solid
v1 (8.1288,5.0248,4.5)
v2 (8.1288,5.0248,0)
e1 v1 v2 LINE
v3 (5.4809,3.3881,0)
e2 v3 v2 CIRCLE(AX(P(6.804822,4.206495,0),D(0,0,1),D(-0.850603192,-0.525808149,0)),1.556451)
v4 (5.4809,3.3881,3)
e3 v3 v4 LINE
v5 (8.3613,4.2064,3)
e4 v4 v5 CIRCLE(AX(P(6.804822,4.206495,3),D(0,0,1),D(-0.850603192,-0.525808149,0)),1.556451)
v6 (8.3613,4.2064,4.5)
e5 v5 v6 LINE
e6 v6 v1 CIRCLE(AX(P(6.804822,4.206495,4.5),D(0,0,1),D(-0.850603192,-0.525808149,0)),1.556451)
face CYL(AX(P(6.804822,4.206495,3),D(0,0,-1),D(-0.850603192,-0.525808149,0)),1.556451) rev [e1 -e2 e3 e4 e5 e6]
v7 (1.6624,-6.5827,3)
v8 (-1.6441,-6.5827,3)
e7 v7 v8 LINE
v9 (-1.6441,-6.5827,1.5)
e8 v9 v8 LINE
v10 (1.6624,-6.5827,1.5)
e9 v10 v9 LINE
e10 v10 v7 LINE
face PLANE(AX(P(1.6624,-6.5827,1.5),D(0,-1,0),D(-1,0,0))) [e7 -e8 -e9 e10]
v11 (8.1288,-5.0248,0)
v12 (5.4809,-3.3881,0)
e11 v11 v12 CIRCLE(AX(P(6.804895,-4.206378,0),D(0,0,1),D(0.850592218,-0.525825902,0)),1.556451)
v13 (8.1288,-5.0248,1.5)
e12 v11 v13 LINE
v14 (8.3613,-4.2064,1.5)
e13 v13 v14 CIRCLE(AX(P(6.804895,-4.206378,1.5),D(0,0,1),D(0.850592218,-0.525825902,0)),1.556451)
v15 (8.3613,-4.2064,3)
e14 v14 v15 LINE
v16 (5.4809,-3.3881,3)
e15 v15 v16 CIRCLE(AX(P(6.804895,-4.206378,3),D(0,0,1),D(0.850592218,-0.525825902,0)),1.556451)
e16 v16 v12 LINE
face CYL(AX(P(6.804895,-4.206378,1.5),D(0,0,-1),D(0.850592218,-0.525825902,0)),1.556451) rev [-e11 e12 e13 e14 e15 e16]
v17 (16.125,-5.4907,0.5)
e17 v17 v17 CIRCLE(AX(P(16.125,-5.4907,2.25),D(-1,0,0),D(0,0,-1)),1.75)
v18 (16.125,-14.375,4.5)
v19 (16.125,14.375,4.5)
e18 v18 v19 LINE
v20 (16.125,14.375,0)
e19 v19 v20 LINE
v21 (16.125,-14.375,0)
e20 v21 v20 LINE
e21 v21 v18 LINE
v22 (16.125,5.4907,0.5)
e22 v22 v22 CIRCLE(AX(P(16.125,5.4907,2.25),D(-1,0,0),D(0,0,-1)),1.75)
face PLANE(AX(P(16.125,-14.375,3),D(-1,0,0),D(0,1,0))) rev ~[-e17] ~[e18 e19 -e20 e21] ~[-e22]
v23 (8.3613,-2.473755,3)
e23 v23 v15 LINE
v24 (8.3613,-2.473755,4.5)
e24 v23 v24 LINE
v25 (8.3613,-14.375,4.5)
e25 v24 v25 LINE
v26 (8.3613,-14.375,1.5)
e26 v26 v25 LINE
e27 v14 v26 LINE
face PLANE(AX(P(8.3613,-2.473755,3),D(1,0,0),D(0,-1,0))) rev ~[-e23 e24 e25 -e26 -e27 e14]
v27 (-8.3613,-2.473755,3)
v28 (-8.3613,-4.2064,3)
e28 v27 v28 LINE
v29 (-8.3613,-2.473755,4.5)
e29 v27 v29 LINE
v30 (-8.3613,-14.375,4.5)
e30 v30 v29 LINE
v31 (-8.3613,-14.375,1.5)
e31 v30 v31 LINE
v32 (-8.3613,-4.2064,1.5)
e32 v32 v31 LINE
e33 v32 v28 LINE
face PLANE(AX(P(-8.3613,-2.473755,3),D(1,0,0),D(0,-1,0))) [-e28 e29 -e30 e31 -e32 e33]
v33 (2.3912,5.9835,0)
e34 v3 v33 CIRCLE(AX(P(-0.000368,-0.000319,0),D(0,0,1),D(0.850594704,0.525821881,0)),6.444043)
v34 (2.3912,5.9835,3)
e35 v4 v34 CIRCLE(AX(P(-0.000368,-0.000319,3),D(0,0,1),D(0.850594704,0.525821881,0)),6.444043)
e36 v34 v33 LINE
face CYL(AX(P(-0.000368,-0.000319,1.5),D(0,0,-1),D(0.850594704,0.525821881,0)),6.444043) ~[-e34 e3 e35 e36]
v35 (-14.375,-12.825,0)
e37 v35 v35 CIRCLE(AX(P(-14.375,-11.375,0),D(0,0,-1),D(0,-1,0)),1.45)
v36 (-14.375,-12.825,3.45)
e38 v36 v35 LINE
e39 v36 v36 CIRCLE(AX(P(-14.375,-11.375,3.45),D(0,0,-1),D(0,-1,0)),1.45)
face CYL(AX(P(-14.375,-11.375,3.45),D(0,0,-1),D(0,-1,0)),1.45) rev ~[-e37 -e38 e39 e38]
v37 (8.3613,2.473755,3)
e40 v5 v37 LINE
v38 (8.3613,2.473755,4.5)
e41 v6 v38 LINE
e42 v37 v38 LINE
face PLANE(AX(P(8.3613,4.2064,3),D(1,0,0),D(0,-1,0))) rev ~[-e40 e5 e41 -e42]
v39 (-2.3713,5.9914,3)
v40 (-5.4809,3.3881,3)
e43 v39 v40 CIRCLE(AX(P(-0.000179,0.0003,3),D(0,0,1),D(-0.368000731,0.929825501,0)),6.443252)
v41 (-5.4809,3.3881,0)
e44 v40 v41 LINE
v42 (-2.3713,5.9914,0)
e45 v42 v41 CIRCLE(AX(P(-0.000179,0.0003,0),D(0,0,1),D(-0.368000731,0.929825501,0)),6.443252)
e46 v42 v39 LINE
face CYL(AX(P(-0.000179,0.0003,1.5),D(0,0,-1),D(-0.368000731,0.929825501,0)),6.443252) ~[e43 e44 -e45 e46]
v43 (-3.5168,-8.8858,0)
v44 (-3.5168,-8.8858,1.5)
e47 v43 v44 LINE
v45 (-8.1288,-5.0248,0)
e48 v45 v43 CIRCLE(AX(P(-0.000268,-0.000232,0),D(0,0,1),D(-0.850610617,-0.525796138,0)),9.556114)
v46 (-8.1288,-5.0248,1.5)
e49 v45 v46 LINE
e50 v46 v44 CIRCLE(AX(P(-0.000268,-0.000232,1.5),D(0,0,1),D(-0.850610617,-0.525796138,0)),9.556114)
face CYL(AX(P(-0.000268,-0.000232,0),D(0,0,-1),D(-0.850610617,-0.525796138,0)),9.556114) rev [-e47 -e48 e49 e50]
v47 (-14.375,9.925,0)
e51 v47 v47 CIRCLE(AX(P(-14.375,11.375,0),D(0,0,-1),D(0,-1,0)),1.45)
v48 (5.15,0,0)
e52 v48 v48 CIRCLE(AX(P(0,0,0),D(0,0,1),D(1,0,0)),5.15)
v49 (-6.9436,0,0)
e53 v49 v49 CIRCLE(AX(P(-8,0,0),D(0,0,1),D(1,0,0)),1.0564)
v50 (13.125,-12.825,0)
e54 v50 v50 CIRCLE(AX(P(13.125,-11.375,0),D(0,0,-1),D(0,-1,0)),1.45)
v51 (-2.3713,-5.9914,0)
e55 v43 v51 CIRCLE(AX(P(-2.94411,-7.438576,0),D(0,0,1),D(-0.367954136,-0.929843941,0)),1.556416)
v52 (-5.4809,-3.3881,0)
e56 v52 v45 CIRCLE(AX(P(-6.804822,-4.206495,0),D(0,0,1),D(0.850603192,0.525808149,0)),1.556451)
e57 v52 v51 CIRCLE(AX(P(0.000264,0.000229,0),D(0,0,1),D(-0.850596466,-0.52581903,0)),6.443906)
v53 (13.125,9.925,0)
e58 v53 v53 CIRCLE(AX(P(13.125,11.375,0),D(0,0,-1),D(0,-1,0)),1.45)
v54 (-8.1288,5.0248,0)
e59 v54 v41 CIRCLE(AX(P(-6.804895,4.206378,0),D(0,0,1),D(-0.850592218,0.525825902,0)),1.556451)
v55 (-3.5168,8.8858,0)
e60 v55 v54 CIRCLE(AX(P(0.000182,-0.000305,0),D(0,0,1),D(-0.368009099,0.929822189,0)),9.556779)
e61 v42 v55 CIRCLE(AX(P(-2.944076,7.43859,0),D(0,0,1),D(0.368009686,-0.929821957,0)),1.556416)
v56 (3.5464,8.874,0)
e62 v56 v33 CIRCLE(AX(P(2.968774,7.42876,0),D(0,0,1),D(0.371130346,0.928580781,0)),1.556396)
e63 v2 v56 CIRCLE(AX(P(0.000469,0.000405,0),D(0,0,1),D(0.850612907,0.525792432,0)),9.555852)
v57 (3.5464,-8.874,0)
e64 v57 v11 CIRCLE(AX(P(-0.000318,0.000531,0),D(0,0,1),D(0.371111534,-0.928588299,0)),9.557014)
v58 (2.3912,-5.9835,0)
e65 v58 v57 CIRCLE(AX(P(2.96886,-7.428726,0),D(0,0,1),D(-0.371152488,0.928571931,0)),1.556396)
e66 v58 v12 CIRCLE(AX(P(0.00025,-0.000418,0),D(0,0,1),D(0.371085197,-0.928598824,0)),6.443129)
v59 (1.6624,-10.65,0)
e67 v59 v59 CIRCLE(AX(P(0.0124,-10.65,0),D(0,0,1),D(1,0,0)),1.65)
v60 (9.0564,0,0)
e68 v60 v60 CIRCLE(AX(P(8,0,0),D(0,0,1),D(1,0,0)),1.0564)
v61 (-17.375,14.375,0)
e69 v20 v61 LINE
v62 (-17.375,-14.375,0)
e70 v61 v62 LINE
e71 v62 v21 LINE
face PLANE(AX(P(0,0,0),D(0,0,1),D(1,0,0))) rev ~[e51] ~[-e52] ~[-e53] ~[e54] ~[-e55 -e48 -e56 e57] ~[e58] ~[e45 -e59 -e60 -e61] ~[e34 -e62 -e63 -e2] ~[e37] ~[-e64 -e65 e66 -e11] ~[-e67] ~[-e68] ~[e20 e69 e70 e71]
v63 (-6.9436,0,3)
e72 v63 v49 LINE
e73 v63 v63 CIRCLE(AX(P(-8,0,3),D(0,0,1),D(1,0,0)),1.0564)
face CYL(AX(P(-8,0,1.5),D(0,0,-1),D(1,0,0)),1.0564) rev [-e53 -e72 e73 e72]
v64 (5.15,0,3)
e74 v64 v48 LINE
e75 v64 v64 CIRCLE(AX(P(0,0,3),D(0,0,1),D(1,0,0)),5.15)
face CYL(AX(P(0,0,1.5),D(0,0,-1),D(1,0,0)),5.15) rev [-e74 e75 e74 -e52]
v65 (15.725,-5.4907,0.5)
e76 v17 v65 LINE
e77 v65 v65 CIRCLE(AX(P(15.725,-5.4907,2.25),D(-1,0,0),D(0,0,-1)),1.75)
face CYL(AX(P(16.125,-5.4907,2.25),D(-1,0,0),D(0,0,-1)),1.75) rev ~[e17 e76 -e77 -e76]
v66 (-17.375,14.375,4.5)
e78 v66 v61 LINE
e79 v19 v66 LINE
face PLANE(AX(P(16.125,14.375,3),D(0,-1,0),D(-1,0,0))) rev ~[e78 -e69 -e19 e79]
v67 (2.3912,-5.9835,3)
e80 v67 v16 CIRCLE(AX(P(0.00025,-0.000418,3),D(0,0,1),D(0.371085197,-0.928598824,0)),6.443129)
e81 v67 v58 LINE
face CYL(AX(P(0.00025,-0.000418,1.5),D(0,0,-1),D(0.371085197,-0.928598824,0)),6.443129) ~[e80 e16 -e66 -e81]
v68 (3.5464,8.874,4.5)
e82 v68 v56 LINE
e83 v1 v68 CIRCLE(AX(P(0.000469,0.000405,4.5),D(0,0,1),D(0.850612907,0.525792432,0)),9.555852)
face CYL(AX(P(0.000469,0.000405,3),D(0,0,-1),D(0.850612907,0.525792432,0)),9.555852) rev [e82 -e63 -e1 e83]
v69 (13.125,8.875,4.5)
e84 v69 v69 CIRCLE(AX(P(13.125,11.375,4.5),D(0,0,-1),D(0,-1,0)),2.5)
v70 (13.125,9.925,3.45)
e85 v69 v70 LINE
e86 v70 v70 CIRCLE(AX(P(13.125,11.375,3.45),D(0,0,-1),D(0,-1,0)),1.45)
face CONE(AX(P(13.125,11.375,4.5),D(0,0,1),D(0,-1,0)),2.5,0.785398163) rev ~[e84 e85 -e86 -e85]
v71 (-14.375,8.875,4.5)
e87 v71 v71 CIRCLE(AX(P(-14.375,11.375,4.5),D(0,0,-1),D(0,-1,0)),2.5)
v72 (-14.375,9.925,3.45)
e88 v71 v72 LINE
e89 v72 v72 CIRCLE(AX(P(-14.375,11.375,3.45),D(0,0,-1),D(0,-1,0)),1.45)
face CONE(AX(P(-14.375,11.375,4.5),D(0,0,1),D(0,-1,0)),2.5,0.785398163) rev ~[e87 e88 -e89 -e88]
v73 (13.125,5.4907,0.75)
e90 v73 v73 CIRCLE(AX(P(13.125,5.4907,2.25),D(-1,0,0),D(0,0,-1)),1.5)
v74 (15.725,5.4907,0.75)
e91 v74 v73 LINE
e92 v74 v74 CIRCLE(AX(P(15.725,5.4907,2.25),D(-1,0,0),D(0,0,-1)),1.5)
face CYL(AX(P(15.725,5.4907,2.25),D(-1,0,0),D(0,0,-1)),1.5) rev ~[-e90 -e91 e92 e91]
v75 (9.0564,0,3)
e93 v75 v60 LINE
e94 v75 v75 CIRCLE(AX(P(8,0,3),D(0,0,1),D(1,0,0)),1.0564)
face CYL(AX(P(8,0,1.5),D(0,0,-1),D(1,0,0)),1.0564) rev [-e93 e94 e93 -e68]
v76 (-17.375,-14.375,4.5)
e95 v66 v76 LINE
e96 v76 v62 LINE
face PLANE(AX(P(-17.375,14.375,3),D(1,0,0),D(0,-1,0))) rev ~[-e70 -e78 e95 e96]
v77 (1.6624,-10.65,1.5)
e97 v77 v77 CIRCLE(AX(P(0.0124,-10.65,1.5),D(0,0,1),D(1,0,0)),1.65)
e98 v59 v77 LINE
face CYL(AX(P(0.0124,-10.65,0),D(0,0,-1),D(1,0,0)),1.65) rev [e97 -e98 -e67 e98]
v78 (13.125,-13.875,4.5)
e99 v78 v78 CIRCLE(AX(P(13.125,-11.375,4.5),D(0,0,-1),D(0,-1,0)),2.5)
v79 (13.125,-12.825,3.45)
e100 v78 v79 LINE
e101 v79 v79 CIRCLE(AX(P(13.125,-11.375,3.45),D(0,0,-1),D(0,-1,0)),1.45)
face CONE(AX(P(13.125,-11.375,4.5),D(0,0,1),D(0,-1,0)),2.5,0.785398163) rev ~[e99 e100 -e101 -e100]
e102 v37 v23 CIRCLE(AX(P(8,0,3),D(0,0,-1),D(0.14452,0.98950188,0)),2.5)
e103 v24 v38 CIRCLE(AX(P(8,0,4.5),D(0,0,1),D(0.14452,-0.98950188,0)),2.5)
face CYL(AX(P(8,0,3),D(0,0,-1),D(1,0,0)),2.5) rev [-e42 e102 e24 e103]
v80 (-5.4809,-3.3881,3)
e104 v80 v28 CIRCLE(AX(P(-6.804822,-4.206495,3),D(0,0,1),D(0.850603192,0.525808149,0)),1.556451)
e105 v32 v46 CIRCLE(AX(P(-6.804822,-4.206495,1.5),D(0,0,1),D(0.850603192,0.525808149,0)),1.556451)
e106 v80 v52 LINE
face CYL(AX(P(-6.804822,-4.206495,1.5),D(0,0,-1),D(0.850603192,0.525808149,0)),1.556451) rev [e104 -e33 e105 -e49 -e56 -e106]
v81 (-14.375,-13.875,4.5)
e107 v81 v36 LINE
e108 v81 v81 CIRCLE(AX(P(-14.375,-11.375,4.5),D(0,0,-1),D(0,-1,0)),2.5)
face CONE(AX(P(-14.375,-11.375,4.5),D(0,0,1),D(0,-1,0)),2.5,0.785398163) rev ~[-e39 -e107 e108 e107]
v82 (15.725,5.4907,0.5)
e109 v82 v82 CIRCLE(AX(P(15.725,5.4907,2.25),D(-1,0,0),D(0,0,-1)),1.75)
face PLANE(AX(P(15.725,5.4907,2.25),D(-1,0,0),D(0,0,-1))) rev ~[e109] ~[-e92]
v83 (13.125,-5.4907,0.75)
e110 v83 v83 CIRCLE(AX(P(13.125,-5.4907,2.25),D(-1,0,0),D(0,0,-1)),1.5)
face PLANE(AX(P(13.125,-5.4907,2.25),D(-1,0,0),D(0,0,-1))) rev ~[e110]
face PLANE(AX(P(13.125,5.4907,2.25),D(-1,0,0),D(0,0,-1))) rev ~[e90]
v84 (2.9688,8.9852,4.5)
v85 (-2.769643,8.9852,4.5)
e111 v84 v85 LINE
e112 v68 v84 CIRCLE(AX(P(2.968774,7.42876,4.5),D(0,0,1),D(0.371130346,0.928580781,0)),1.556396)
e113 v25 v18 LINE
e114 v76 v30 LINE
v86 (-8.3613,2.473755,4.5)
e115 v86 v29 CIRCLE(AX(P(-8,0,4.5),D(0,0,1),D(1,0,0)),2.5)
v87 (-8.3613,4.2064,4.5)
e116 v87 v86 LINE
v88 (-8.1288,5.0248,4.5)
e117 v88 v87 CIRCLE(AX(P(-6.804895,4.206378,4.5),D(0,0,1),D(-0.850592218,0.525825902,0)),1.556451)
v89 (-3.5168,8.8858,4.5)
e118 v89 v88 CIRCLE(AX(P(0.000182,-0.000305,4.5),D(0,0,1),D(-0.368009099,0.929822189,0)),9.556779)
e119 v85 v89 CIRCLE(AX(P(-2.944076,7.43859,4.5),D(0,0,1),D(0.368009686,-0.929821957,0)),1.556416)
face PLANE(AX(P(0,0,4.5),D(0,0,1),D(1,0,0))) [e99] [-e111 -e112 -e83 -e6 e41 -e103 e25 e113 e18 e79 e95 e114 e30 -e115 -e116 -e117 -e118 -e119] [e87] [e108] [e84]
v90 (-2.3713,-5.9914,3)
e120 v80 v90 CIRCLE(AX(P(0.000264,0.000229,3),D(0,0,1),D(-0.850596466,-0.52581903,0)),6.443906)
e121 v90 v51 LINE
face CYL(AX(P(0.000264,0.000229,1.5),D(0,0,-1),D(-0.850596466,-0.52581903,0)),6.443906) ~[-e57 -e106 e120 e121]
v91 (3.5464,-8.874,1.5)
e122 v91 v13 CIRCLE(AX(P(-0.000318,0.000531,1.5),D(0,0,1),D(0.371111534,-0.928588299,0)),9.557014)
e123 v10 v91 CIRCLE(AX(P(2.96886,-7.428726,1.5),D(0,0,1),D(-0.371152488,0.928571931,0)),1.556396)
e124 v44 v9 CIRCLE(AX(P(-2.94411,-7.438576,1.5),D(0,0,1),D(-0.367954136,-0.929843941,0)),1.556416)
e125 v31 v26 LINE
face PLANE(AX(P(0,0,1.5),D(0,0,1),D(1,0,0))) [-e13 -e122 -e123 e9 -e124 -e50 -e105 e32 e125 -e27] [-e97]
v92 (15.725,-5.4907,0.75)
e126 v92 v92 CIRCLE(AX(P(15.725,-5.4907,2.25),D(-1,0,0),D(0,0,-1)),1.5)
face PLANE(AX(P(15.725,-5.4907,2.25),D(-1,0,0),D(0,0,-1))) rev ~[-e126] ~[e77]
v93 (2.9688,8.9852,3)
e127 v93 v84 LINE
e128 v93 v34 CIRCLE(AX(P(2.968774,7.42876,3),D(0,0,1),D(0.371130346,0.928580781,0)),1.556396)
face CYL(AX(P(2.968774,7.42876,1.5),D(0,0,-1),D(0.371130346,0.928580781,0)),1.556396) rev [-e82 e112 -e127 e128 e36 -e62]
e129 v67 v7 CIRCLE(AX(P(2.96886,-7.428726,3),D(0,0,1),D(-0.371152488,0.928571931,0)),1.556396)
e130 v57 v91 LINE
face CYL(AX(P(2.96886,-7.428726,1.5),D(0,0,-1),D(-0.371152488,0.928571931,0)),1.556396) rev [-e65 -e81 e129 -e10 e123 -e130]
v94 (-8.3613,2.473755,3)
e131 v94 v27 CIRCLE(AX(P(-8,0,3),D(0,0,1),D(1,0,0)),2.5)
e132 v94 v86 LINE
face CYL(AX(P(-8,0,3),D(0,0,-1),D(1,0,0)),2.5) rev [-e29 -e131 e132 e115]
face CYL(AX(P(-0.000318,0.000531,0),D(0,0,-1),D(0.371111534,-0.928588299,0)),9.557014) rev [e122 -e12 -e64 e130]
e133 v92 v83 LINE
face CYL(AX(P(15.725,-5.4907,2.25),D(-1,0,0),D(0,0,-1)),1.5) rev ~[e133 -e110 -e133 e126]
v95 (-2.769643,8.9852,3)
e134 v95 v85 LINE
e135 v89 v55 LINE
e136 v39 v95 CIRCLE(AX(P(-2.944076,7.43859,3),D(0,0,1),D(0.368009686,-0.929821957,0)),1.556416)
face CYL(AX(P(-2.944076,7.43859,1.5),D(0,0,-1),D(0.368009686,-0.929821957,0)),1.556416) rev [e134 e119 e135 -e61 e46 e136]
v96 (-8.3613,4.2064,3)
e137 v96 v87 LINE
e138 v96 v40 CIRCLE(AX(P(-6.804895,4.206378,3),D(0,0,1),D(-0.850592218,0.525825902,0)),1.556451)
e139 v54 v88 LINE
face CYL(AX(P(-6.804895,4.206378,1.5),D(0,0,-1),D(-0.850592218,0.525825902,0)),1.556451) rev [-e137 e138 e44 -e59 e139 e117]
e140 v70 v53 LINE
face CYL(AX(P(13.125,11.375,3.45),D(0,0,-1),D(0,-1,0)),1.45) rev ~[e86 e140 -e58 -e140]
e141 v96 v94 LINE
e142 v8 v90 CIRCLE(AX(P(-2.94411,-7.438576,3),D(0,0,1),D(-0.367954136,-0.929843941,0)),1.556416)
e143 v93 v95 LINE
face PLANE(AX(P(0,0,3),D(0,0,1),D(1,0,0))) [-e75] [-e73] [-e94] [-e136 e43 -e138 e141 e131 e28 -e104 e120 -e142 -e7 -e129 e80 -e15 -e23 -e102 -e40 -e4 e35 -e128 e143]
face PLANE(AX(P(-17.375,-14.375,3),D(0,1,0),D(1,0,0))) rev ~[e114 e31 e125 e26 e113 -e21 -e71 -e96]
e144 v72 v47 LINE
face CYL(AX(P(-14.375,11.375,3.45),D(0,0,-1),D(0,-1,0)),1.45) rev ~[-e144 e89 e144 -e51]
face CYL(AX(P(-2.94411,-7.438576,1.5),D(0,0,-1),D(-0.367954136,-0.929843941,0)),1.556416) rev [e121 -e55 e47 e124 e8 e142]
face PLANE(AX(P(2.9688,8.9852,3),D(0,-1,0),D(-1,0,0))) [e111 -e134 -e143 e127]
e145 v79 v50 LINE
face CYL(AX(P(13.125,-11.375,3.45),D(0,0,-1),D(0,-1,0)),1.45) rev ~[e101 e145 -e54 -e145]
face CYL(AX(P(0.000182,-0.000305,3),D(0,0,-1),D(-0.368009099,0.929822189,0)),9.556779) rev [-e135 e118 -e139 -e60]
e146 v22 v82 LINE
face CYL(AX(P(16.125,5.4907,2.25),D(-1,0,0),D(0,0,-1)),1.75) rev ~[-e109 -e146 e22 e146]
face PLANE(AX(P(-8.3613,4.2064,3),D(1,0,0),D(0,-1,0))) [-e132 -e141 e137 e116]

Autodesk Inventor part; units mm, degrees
ref_plane "YZ Plane" through (0, 0, 0) normal (1, 0, 0) x (0, 1, 0)
ref_plane "XZ Plane" through (0, 0, 0) normal (0, 1, 0) x (-1, 0, 0)
ref_plane "XY Plane" through (0, 0, 0) normal (0, 0, 1) x (1, 0, 0)
ref_plane "Work Plane1" through (0, 0, 0) normal (0, 0, 1) x (1, 0, 0)
sketch "Sketch1" plane through (0, 0, 0) normal (0, 0, 1) x (1, 0, 0)
  arc A0 (5.9062, 3.651) -> (7.7035, 4.7619) centre (6.8048, 4.2064) ccw projected
  arc A1 (5.9062, 3.651) -> (2.5768, 6.4477) centre (0, 0) ccw projected
  arc A2 (3.3608, 8.4097) -> (2.5768, 6.4477) centre (2.9688, 7.4287) ccw projected
  arc A3 (7.7035, 4.7619) -> (3.3608, 8.4097) centre (0, 0) ccw projected
  arc A4 (2.5768, -6.4477) -> (3.3608, -8.4097) centre (2.9688, -7.4287) ccw projected
  arc A5 (2.5768, -6.4477) -> (5.9062, -3.651) centre (0, 0) ccw projected
  arc A6 (7.7035, -4.7619) -> (5.9062, -3.651) centre (6.8048, -4.2064) ccw projected
  arc A7 (3.3608, -8.4097) -> (7.7035, -4.7619) centre (0, 0) ccw projected
  arc A8 (-2.5553, 6.4563) -> (-3.3328, 8.4209) centre (-2.9441, 7.4386) ccw projected
  arc A9 (-2.5553, 6.4563) -> (-5.9062, 3.651) centre (0, 0) ccw projected
  arc A10 (-7.7035, 4.7619) -> (-5.9062, 3.651) centre (-6.8048, 4.2064) ccw projected
  arc A11 (-3.3328, 8.4209) -> (-7.7035, 4.7619) centre (0, 0) ccw projected
  arc A12 (-5.9062, -3.651) -> (-7.7035, -4.7619) centre (-6.8048, -4.2064) ccw projected
  arc A13 (-5.9062, -3.651) -> (-2.5553, -6.4563) centre (0, 0) ccw projected
  arc A14 (-3.3328, -8.4209) -> (-2.5553, -6.4563) centre (-2.9441, -7.4386) ccw projected
  arc A15 (-7.7035, -4.7619) -> (-3.3328, -8.4209) centre (0, 0) ccw projected
  circle A16 centre (0.0124, -10.65) radius 1.15 projected
  circle A17 centre (8, 0) radius 1.0564 projected
  circle A18 centre (-8, 0) radius 1.0564 projected
  circle A19 centre (0, 0) radius 5 projected
  circle A20 centre (0, 0) radius 13.7 projected
  line L0 (16.125, 14.375) -> (-17.375, 14.375) projected
  line L1 (-17.375, 14.375) -> (-17.375, -14.375) projected
  line L2 (-17.375, -14.375) -> (16.125, -14.375) projected
  line L3 (16.125, -14.375) -> (16.125, 14.375) projected
  circle A21 centre (0, 0) radius 13.7 projected
  circle A22 centre (0, 0) radius 5.15
  arc A23 (5.4809, 3.3881) -> (8.1288, 5.0248) centre (6.8048, 4.2064) ccw
  arc A24 (5.4809, 3.3881) -> (2.3912, 5.9835) centre (0, 0) ccw
  arc A25 (3.5464, 8.874) -> (2.3912, 5.9835) centre (2.9688, 7.4287) ccw
  arc A26 (8.1288, 5.0248) -> (3.5464, 8.874) centre (0, 0) ccw
  arc A27 (8.1288, -5.0248) -> (5.4809, -3.3881) centre (6.8048, -4.2064) ccw
  arc A28 (2.3912, -5.9835) -> (5.4809, -3.3881) centre (0, 0) ccw
  arc A29 (2.3912, -5.9835) -> (3.5464, -8.874) centre (2.9688, -7.4287) ccw
  arc A30 (3.5464, -8.874) -> (8.1288, -5.0248) centre (0, 0) ccw
  circle A31 centre (0.0124, -10.65) radius 1.65
  arc A32 (-5.4809, -3.3881) -> (-2.3713, -5.9914) centre (0, 0) ccw
  arc A33 (-5.4809, -3.3881) -> (-8.1288, -5.0248) centre (-6.8048, -4.2064) ccw
  arc A34 (-8.1288, -5.0248) -> (-3.5168, -8.8858) centre (0, 0) ccw
  arc A35 (-3.5168, -8.8858) -> (-2.3713, -5.9914) centre (-2.9441, -7.4386) ccw
  arc A36 (-2.3713, 5.9914) -> (-5.4809, 3.3881) centre (0, 0) ccw
  arc A37 (-2.3713, 5.9914) -> (-3.5168, 8.8858) centre (-2.9441, 7.4386) ccw
  arc A38 (-3.5168, 8.8858) -> (-8.1288, 5.0248) centre (0, 0) ccw
  arc A39 (-8.1288, 5.0248) -> (-5.4809, 3.3881) centre (-6.8048, 4.2064) ccw
  circle A40 centre (-14.375, -11.375) radius 1.75 projected
  circle A41 centre (13.125, 11.375) radius 1.75 projected
  circle A42 centre (13.125, -11.375) radius 1.75 projected
  circle A43 centre (-14.375, 11.375) radius 1.75 projected
  point P0 (0, 0)
  dimension "d0" = 0.15
  dimension "d1" = 0.5
  dimension "d2" = 0.5
  dimension "d3" = 0.5
  dimension "d4" = 0.5
  dimension "d5" = 0.5
extrude "Extrusion1" add sketch "Sketch1" along normal blind 1.5 contours A20 | L3 L2 L1 L0 | A40 | A41 | A42 | A43
sketch "Sketch2" plane through (0, 0, 1.5) normal (0, 0, 1) x (1, 0, 0)
  line L0 (-17.375, 14.375) -> (-17.375, -14.375) projected
  line L1 (-17.375, -14.375) -> (16.125, -14.375) projected
  line L2 (16.125, -14.375) -> (16.125, 14.375) projected
  line L3 (16.125, 14.375) -> (-17.375, 14.375) projected
  circle A0 centre (8, 0) radius 1.0564 projected
  circle A1 centre (-8, 0) radius 1.0564 projected
  circle A2 centre (0, 0) radius 5.15 projected
  arc A3 (5.4809, 3.3881) -> (2.3912, 5.9835) centre (0, 0) ccw projected
  arc A4 (3.5464, 8.874) -> (2.3912, 5.9835) centre (2.9688, 7.4287) ccw projected
  arc A5 (8.1288, 5.0248) -> (3.5464, 8.874) centre (0, 0) ccw projected
  arc A6 (5.4809, 3.3881) -> (8.1288, 5.0248) centre (6.8048, 4.2064) ccw projected
  arc A7 (2.3912, -5.9835) -> (5.4809, -3.3881) centre (0, 0) ccw projected
  arc A8 (8.1288, -5.0248) -> (5.4809, -3.3881) centre (6.8048, -4.2064) ccw projected
  arc A9 (3.5464, -8.874) -> (8.1288, -5.0248) centre (0, 0) ccw projected
  arc A10 (2.3912, -5.9835) -> (3.5464, -8.874) centre (2.9688, -7.4287) ccw projected
  circle A11 centre (0.0124, -10.65) radius 1.65 projected
  arc A12 (-5.4809, -3.3881) -> (-8.1288, -5.0248) centre (-6.8048, -4.2064) ccw projected
  arc A13 (-5.4809, -3.3881) -> (-2.3713, -5.9914) centre (0, 0) ccw projected
  arc A14 (-3.5168, -8.8858) -> (-2.3713, -5.9914) centre (-2.9441, -7.4386) ccw projected
  arc A15 (-8.1288, -5.0248) -> (-3.5168, -8.8858) centre (0, 0) ccw projected
  arc A16 (-2.3713, 5.9914) -> (-3.5168, 8.8858) centre (-2.9441, 7.4386) ccw projected
  arc A17 (-2.3713, 5.9914) -> (-5.4809, 3.3881) centre (0, 0) ccw projected
  arc A18 (-8.1288, 5.0248) -> (-5.4809, 3.3881) centre (-6.8048, 4.2064) ccw projected
  arc A19 (-3.5168, 8.8858) -> (-8.1288, 5.0248) centre (0, 0) ccw projected
  arc A20 (8.1288, -5.0248) -> (5.4809, -3.3881) centre (6.8048, -4.2064) ccw projected
  line L4 (8.3613, -4.2064) -> (8.3613, -14.375)
  line L5 (-17.375, -14.375) -> (16.125, -14.375) projected
  arc A21 (-5.4809, -3.3881) -> (-8.1288, -5.0248) centre (-6.8048, -4.2064) ccw projected
  line L6 (-8.3613, -4.2064) -> (-8.3613, -14.375)
  arc A22 (2.3912, -5.9835) -> (3.5464, -8.874) centre (2.9688, -7.4287) ccw projected
  line L7 (1.6624, -6.5827) -> (-1.6441, -6.5827)
  arc A23 (-3.5168, -8.8858) -> (-2.3713, -5.9914) centre (-2.9441, -7.4386) ccw projected
  point P0 (0, 0)
extrude "Extrusion2" add sketch "Sketch2" along normal blind 1.5 contours L3 L2 L1 L4 A8 A7 A10 L7 A14 A13 A12 L6 L0
sketch "Sketch3" plane through (0, 0, 3) normal (0, 0, 1) x (1, 0, 0)
  circle A0 centre (0, 0) radius 6.75 projected
  line L0 (-17.375, -14.375) -> (-8.3613, -14.375) projected
  line L1 (-8.3613, -14.375) -> (-8.3613, -4.2064) projected
  arc A1 (-5.4809, -3.3881) -> (-8.3613, -4.2064) centre (-6.8048, -4.2064) ccw projected
  arc A2 (-5.4809, -3.3881) -> (-2.3713, -5.9914) centre (0, 0) ccw projected
  arc A3 (-1.6441, -6.5827) -> (-2.3713, -5.9914) centre (-2.9441, -7.4386) ccw projected
  line L2 (-1.6441, -6.5827) -> (1.6624, -6.5827) projected
  arc A4 (2.3912, -5.9835) -> (1.6624, -6.5827) centre (2.9688, -7.4287) ccw projected
  arc A5 (2.3912, -5.9835) -> (5.4809, -3.3881) centre (0, 0) ccw projected
  arc A6 (8.3613, -4.2064) -> (5.4809, -3.3881) centre (6.8048, -4.2064) ccw projected
  line L3 (8.3613, -4.2064) -> (8.3613, -14.375) projected
  line L4 (8.3613, -14.375) -> (16.125, -14.375) projected
  line L5 (16.125, -14.375) -> (16.125, 14.375) projected
  line L6 (16.125, 14.375) -> (-17.375, 14.375) projected
  line L7 (-17.375, 14.375) -> (-17.375, -14.375) projected
  circle A7 centre (8, 0) radius 1.0564 projected
  circle A8 centre (-8, 0) radius 1.0564 projected
  arc A9 (-2.3713, 5.9914) -> (-5.4809, 3.3881) centre (0, 0) ccw projected
  arc A10 (-8.1288, 5.0248) -> (-5.4809, 3.3881) centre (-6.8048, 4.2064) ccw projected
  arc A11 (-3.5168, 8.8858) -> (-8.1288, 5.0248) centre (0, 0) ccw projected
  arc A12 (-2.3713, 5.9914) -> (-3.5168, 8.8858) centre (-2.9441, 7.4386) ccw projected
  arc A13 (5.4809, 3.3881) -> (8.1288, 5.0248) centre (6.8048, 4.2064) ccw projected
  arc A14 (5.4809, 3.3881) -> (2.3912, 5.9835) centre (0, 0) ccw projected
  arc A15 (3.5464, 8.874) -> (2.3912, 5.9835) centre (2.9688, 7.4287) ccw projected
  arc A16 (8.1288, 5.0248) -> (3.5464, 8.874) centre (0, 0) ccw projected
  circle A17 centre (0, 0) radius 5.15 projected
  circle A18 centre (8, 0) radius 2.5
  circle A19 centre (-8, 0) radius 2.5
  line L8 (2.9688, 8.9852) -> (-2.9441, 8.9852)
  line L9 (2.9688, 8.9852) -> (8.8817, 8.9852) construction
  arc A20 (-8.1288, 5.0248) -> (-5.4809, 3.3881) centre (-6.8048, 4.2064) ccw projected
  line L10 (-8.3613, 4.2064) -> (-8.3613, -4.2064)
  arc A21 (-5.4809, -3.3881) -> (-8.1288, -5.0248) centre (-6.8048, -4.2064) ccw projected
  arc A22 (5.4809, 3.3881) -> (8.1288, 5.0248) centre (6.8048, 4.2064) ccw projected
  line L11 (8.3613, 4.2064) -> (8.3613, -4.2064)
  point P0 (0, 0)
  point P1 (-8.3613, -2.4738)
  point P2 (-8.3613, 2.4738)
  point P3 (-2.7693, 8.9852)
  point P4 (8.3613, 2.4738)
  point P5 (8.3613, -2.4738)
  dimension "d10" = 5
  dimension "d11" = 5
  dimension "d12" = 180
extrude "Extrusion3" add sketch "Sketch3" along normal blind 1.5 contours L11 A13 A16 A15 L8 A12 A11 A10 L10 A19 L1 L0 L7 L6 L5 L4 L3 A18
sketch "Sketch4" plane through (0, 0, 4.5) normal (0, 0, 1) x (1, 0, 0)
  line L0 (16.125, -14.375) -> (16.125, 14.375) projected
  line L1 (-17.375, -14.375) -> (16.125, -14.375) projected
  line L2 (16.125, 14.375) -> (12.625, 14.375)
  line L3 (12.625, -14.375) -> (16.125, -14.375)
  line L4 (16.125, -14.375) -> (16.125, 14.375)
  circle A0 centre (13.125, 11.375) radius 3
  circle A1 centre (13.125, -11.375) radius 3
  circle A2 centre (-14.375, -11.375) radius 3
  circle A3 centre (-14.375, 11.375) radius 3
  line L5 (-8.3613, -14.375) -> (-8.3613, -2.4738) projected
  arc A4 (-8.3613, 2.4738) -> (-8.3613, -2.4738) centre (-8, 0) ccw projected
  line L6 (-8.3613, 2.4738) -> (-8.3613, 4.2064) projected
  arc A5 (-8.1288, 5.0248) -> (-8.3613, 4.2064) centre (-6.8048, 4.2064) ccw projected
  arc A6 (-3.5168, 8.8858) -> (-8.1288, 5.0248) centre (0, 0) ccw projected
  arc A7 (-2.7693, 8.9852) -> (-3.5168, 8.8858) centre (-2.9441, 7.4386) ccw projected
  line L7 (-2.7693, 8.9852) -> (2.9688, 8.9852) projected
  arc A8 (3.5464, 8.874) -> (2.9688, 8.9852) centre (2.9688, 7.4287) ccw projected
  arc A9 (8.1288, 5.0248) -> (3.5464, 8.874) centre (0, 0) ccw projected
  arc A10 (8.3613, 4.2064) -> (8.1288, 5.0248) centre (6.8048, 4.2064) ccw projected
  line L8 (8.3613, 4.2064) -> (8.3613, 2.4738) projected
  arc A11 (8.3613, -2.4738) -> (8.3613, 2.4738) centre (8, 0) ccw projected
  line L9 (8.3613, -2.4738) -> (8.3613, -14.375) projected
  line L10 (8.3613, -14.375) -> (16.125, -14.375) projected
  line L11 (16.125, -14.375) -> (16.125, 14.375) projected
  line L12 (16.125, 14.375) -> (-17.375, 14.375) projected
  line L13 (-17.375, 14.375) -> (-17.375, -14.375) projected
  line L14 (-17.375, -14.375) -> (-8.3613, -14.375) projected
  point P0 (0, 0)
  dimension "d16" = 6
  dimension "d17" = 6
  dimension "d18" = 6
  dimension "d19" = 6
hole "Hole1" at (13.125, 11.375, 4.5) at (13.125, -11.375, 4.5) at (-14.375, -11.375, 4.5) at (-14.375, 11.375, 4.5) direction (0, 0, -1) diameter 2.9 end through all countersink diameter 5 countersink angle 90 clearance for "Countersunk Flat Head Screw ISO 2009/7046" size "M2.5" standard "ISO"
sketch "Sketch5" plane through (16.125, -14.375, 0) normal (1, 0, 0) x (0, 0, -1)
  line L0 (0, 27.2) -> (0, 24.3) projected
  line L1 (-3.45, 27.2) -> (-3.45, 24.3) projected
  line L2 (0, 4.45) -> (0, 1.55) projected
  line L3 (-3.45, 4.45) -> (-3.45, 1.55) projected
  line L4 (0, 0) -> (0, 28.75) projected
  line L5 (-4.5, 0) -> (-4.5, 28.75) projected
  line L6 (0, 28.75) -> (-4.5, 28.75)
  line L7 (-4.5, 28.75) -> (-4.5, 24.3)
  line L8 (-4.5, 24.3) -> (0, 24.3)
  line L9 (0, 24.3) -> (0, 28.75)
  line L10 (0, 0) -> (-4.5, 0)
  line L11 (-4.5, 0) -> (-4.5, 4.45)
  line L12 (-4.5, 4.45) -> (0, 4.45)
  line L13 (0, 4.45) -> (0, 0)
  line L14 (2.8, 13.3186) -> (0, 13.3186)
  line L15 (2.8, 15.4314) -> (0, 15.4314)
  line L16 (0, 15.4314) -> (-4.5, 15.4314)
  line L17 (-4.5, 15.4314) -> (-4.5, 13.3186)
  line L18 (-4.5, 13.3186) -> (0, 13.3186)
  line L19 (0, 13.3186) -> (0, 15.4314)
  line L20 (0, 24.3) -> (-4.5, 15.4314)
  line L21 (-4.5, 13.3186) -> (0, 4.45)
  line L22 (-4.5, 4.45) -> (0, 13.3186)
  line L23 (0, 13.3186) -> (0, 15.4314) projected
  line L24 (-4.5, 24.3) -> (0, 15.4314)
  point P0 (0, 14.375)
  point P1 (-2.25, 19.8657)
  point P2 (-2.25, 8.8843)
hole "Hole2" at (16.125, 5.4907, 2.25) at (16.125, -5.4907, 2.25) direction (-1, 0, 0) diameter 3 depth 3 counterbore diameter 3.5 counterbore depth 0.4
properties part number "right_motor_front_mount" material "Nylon 6/6"
